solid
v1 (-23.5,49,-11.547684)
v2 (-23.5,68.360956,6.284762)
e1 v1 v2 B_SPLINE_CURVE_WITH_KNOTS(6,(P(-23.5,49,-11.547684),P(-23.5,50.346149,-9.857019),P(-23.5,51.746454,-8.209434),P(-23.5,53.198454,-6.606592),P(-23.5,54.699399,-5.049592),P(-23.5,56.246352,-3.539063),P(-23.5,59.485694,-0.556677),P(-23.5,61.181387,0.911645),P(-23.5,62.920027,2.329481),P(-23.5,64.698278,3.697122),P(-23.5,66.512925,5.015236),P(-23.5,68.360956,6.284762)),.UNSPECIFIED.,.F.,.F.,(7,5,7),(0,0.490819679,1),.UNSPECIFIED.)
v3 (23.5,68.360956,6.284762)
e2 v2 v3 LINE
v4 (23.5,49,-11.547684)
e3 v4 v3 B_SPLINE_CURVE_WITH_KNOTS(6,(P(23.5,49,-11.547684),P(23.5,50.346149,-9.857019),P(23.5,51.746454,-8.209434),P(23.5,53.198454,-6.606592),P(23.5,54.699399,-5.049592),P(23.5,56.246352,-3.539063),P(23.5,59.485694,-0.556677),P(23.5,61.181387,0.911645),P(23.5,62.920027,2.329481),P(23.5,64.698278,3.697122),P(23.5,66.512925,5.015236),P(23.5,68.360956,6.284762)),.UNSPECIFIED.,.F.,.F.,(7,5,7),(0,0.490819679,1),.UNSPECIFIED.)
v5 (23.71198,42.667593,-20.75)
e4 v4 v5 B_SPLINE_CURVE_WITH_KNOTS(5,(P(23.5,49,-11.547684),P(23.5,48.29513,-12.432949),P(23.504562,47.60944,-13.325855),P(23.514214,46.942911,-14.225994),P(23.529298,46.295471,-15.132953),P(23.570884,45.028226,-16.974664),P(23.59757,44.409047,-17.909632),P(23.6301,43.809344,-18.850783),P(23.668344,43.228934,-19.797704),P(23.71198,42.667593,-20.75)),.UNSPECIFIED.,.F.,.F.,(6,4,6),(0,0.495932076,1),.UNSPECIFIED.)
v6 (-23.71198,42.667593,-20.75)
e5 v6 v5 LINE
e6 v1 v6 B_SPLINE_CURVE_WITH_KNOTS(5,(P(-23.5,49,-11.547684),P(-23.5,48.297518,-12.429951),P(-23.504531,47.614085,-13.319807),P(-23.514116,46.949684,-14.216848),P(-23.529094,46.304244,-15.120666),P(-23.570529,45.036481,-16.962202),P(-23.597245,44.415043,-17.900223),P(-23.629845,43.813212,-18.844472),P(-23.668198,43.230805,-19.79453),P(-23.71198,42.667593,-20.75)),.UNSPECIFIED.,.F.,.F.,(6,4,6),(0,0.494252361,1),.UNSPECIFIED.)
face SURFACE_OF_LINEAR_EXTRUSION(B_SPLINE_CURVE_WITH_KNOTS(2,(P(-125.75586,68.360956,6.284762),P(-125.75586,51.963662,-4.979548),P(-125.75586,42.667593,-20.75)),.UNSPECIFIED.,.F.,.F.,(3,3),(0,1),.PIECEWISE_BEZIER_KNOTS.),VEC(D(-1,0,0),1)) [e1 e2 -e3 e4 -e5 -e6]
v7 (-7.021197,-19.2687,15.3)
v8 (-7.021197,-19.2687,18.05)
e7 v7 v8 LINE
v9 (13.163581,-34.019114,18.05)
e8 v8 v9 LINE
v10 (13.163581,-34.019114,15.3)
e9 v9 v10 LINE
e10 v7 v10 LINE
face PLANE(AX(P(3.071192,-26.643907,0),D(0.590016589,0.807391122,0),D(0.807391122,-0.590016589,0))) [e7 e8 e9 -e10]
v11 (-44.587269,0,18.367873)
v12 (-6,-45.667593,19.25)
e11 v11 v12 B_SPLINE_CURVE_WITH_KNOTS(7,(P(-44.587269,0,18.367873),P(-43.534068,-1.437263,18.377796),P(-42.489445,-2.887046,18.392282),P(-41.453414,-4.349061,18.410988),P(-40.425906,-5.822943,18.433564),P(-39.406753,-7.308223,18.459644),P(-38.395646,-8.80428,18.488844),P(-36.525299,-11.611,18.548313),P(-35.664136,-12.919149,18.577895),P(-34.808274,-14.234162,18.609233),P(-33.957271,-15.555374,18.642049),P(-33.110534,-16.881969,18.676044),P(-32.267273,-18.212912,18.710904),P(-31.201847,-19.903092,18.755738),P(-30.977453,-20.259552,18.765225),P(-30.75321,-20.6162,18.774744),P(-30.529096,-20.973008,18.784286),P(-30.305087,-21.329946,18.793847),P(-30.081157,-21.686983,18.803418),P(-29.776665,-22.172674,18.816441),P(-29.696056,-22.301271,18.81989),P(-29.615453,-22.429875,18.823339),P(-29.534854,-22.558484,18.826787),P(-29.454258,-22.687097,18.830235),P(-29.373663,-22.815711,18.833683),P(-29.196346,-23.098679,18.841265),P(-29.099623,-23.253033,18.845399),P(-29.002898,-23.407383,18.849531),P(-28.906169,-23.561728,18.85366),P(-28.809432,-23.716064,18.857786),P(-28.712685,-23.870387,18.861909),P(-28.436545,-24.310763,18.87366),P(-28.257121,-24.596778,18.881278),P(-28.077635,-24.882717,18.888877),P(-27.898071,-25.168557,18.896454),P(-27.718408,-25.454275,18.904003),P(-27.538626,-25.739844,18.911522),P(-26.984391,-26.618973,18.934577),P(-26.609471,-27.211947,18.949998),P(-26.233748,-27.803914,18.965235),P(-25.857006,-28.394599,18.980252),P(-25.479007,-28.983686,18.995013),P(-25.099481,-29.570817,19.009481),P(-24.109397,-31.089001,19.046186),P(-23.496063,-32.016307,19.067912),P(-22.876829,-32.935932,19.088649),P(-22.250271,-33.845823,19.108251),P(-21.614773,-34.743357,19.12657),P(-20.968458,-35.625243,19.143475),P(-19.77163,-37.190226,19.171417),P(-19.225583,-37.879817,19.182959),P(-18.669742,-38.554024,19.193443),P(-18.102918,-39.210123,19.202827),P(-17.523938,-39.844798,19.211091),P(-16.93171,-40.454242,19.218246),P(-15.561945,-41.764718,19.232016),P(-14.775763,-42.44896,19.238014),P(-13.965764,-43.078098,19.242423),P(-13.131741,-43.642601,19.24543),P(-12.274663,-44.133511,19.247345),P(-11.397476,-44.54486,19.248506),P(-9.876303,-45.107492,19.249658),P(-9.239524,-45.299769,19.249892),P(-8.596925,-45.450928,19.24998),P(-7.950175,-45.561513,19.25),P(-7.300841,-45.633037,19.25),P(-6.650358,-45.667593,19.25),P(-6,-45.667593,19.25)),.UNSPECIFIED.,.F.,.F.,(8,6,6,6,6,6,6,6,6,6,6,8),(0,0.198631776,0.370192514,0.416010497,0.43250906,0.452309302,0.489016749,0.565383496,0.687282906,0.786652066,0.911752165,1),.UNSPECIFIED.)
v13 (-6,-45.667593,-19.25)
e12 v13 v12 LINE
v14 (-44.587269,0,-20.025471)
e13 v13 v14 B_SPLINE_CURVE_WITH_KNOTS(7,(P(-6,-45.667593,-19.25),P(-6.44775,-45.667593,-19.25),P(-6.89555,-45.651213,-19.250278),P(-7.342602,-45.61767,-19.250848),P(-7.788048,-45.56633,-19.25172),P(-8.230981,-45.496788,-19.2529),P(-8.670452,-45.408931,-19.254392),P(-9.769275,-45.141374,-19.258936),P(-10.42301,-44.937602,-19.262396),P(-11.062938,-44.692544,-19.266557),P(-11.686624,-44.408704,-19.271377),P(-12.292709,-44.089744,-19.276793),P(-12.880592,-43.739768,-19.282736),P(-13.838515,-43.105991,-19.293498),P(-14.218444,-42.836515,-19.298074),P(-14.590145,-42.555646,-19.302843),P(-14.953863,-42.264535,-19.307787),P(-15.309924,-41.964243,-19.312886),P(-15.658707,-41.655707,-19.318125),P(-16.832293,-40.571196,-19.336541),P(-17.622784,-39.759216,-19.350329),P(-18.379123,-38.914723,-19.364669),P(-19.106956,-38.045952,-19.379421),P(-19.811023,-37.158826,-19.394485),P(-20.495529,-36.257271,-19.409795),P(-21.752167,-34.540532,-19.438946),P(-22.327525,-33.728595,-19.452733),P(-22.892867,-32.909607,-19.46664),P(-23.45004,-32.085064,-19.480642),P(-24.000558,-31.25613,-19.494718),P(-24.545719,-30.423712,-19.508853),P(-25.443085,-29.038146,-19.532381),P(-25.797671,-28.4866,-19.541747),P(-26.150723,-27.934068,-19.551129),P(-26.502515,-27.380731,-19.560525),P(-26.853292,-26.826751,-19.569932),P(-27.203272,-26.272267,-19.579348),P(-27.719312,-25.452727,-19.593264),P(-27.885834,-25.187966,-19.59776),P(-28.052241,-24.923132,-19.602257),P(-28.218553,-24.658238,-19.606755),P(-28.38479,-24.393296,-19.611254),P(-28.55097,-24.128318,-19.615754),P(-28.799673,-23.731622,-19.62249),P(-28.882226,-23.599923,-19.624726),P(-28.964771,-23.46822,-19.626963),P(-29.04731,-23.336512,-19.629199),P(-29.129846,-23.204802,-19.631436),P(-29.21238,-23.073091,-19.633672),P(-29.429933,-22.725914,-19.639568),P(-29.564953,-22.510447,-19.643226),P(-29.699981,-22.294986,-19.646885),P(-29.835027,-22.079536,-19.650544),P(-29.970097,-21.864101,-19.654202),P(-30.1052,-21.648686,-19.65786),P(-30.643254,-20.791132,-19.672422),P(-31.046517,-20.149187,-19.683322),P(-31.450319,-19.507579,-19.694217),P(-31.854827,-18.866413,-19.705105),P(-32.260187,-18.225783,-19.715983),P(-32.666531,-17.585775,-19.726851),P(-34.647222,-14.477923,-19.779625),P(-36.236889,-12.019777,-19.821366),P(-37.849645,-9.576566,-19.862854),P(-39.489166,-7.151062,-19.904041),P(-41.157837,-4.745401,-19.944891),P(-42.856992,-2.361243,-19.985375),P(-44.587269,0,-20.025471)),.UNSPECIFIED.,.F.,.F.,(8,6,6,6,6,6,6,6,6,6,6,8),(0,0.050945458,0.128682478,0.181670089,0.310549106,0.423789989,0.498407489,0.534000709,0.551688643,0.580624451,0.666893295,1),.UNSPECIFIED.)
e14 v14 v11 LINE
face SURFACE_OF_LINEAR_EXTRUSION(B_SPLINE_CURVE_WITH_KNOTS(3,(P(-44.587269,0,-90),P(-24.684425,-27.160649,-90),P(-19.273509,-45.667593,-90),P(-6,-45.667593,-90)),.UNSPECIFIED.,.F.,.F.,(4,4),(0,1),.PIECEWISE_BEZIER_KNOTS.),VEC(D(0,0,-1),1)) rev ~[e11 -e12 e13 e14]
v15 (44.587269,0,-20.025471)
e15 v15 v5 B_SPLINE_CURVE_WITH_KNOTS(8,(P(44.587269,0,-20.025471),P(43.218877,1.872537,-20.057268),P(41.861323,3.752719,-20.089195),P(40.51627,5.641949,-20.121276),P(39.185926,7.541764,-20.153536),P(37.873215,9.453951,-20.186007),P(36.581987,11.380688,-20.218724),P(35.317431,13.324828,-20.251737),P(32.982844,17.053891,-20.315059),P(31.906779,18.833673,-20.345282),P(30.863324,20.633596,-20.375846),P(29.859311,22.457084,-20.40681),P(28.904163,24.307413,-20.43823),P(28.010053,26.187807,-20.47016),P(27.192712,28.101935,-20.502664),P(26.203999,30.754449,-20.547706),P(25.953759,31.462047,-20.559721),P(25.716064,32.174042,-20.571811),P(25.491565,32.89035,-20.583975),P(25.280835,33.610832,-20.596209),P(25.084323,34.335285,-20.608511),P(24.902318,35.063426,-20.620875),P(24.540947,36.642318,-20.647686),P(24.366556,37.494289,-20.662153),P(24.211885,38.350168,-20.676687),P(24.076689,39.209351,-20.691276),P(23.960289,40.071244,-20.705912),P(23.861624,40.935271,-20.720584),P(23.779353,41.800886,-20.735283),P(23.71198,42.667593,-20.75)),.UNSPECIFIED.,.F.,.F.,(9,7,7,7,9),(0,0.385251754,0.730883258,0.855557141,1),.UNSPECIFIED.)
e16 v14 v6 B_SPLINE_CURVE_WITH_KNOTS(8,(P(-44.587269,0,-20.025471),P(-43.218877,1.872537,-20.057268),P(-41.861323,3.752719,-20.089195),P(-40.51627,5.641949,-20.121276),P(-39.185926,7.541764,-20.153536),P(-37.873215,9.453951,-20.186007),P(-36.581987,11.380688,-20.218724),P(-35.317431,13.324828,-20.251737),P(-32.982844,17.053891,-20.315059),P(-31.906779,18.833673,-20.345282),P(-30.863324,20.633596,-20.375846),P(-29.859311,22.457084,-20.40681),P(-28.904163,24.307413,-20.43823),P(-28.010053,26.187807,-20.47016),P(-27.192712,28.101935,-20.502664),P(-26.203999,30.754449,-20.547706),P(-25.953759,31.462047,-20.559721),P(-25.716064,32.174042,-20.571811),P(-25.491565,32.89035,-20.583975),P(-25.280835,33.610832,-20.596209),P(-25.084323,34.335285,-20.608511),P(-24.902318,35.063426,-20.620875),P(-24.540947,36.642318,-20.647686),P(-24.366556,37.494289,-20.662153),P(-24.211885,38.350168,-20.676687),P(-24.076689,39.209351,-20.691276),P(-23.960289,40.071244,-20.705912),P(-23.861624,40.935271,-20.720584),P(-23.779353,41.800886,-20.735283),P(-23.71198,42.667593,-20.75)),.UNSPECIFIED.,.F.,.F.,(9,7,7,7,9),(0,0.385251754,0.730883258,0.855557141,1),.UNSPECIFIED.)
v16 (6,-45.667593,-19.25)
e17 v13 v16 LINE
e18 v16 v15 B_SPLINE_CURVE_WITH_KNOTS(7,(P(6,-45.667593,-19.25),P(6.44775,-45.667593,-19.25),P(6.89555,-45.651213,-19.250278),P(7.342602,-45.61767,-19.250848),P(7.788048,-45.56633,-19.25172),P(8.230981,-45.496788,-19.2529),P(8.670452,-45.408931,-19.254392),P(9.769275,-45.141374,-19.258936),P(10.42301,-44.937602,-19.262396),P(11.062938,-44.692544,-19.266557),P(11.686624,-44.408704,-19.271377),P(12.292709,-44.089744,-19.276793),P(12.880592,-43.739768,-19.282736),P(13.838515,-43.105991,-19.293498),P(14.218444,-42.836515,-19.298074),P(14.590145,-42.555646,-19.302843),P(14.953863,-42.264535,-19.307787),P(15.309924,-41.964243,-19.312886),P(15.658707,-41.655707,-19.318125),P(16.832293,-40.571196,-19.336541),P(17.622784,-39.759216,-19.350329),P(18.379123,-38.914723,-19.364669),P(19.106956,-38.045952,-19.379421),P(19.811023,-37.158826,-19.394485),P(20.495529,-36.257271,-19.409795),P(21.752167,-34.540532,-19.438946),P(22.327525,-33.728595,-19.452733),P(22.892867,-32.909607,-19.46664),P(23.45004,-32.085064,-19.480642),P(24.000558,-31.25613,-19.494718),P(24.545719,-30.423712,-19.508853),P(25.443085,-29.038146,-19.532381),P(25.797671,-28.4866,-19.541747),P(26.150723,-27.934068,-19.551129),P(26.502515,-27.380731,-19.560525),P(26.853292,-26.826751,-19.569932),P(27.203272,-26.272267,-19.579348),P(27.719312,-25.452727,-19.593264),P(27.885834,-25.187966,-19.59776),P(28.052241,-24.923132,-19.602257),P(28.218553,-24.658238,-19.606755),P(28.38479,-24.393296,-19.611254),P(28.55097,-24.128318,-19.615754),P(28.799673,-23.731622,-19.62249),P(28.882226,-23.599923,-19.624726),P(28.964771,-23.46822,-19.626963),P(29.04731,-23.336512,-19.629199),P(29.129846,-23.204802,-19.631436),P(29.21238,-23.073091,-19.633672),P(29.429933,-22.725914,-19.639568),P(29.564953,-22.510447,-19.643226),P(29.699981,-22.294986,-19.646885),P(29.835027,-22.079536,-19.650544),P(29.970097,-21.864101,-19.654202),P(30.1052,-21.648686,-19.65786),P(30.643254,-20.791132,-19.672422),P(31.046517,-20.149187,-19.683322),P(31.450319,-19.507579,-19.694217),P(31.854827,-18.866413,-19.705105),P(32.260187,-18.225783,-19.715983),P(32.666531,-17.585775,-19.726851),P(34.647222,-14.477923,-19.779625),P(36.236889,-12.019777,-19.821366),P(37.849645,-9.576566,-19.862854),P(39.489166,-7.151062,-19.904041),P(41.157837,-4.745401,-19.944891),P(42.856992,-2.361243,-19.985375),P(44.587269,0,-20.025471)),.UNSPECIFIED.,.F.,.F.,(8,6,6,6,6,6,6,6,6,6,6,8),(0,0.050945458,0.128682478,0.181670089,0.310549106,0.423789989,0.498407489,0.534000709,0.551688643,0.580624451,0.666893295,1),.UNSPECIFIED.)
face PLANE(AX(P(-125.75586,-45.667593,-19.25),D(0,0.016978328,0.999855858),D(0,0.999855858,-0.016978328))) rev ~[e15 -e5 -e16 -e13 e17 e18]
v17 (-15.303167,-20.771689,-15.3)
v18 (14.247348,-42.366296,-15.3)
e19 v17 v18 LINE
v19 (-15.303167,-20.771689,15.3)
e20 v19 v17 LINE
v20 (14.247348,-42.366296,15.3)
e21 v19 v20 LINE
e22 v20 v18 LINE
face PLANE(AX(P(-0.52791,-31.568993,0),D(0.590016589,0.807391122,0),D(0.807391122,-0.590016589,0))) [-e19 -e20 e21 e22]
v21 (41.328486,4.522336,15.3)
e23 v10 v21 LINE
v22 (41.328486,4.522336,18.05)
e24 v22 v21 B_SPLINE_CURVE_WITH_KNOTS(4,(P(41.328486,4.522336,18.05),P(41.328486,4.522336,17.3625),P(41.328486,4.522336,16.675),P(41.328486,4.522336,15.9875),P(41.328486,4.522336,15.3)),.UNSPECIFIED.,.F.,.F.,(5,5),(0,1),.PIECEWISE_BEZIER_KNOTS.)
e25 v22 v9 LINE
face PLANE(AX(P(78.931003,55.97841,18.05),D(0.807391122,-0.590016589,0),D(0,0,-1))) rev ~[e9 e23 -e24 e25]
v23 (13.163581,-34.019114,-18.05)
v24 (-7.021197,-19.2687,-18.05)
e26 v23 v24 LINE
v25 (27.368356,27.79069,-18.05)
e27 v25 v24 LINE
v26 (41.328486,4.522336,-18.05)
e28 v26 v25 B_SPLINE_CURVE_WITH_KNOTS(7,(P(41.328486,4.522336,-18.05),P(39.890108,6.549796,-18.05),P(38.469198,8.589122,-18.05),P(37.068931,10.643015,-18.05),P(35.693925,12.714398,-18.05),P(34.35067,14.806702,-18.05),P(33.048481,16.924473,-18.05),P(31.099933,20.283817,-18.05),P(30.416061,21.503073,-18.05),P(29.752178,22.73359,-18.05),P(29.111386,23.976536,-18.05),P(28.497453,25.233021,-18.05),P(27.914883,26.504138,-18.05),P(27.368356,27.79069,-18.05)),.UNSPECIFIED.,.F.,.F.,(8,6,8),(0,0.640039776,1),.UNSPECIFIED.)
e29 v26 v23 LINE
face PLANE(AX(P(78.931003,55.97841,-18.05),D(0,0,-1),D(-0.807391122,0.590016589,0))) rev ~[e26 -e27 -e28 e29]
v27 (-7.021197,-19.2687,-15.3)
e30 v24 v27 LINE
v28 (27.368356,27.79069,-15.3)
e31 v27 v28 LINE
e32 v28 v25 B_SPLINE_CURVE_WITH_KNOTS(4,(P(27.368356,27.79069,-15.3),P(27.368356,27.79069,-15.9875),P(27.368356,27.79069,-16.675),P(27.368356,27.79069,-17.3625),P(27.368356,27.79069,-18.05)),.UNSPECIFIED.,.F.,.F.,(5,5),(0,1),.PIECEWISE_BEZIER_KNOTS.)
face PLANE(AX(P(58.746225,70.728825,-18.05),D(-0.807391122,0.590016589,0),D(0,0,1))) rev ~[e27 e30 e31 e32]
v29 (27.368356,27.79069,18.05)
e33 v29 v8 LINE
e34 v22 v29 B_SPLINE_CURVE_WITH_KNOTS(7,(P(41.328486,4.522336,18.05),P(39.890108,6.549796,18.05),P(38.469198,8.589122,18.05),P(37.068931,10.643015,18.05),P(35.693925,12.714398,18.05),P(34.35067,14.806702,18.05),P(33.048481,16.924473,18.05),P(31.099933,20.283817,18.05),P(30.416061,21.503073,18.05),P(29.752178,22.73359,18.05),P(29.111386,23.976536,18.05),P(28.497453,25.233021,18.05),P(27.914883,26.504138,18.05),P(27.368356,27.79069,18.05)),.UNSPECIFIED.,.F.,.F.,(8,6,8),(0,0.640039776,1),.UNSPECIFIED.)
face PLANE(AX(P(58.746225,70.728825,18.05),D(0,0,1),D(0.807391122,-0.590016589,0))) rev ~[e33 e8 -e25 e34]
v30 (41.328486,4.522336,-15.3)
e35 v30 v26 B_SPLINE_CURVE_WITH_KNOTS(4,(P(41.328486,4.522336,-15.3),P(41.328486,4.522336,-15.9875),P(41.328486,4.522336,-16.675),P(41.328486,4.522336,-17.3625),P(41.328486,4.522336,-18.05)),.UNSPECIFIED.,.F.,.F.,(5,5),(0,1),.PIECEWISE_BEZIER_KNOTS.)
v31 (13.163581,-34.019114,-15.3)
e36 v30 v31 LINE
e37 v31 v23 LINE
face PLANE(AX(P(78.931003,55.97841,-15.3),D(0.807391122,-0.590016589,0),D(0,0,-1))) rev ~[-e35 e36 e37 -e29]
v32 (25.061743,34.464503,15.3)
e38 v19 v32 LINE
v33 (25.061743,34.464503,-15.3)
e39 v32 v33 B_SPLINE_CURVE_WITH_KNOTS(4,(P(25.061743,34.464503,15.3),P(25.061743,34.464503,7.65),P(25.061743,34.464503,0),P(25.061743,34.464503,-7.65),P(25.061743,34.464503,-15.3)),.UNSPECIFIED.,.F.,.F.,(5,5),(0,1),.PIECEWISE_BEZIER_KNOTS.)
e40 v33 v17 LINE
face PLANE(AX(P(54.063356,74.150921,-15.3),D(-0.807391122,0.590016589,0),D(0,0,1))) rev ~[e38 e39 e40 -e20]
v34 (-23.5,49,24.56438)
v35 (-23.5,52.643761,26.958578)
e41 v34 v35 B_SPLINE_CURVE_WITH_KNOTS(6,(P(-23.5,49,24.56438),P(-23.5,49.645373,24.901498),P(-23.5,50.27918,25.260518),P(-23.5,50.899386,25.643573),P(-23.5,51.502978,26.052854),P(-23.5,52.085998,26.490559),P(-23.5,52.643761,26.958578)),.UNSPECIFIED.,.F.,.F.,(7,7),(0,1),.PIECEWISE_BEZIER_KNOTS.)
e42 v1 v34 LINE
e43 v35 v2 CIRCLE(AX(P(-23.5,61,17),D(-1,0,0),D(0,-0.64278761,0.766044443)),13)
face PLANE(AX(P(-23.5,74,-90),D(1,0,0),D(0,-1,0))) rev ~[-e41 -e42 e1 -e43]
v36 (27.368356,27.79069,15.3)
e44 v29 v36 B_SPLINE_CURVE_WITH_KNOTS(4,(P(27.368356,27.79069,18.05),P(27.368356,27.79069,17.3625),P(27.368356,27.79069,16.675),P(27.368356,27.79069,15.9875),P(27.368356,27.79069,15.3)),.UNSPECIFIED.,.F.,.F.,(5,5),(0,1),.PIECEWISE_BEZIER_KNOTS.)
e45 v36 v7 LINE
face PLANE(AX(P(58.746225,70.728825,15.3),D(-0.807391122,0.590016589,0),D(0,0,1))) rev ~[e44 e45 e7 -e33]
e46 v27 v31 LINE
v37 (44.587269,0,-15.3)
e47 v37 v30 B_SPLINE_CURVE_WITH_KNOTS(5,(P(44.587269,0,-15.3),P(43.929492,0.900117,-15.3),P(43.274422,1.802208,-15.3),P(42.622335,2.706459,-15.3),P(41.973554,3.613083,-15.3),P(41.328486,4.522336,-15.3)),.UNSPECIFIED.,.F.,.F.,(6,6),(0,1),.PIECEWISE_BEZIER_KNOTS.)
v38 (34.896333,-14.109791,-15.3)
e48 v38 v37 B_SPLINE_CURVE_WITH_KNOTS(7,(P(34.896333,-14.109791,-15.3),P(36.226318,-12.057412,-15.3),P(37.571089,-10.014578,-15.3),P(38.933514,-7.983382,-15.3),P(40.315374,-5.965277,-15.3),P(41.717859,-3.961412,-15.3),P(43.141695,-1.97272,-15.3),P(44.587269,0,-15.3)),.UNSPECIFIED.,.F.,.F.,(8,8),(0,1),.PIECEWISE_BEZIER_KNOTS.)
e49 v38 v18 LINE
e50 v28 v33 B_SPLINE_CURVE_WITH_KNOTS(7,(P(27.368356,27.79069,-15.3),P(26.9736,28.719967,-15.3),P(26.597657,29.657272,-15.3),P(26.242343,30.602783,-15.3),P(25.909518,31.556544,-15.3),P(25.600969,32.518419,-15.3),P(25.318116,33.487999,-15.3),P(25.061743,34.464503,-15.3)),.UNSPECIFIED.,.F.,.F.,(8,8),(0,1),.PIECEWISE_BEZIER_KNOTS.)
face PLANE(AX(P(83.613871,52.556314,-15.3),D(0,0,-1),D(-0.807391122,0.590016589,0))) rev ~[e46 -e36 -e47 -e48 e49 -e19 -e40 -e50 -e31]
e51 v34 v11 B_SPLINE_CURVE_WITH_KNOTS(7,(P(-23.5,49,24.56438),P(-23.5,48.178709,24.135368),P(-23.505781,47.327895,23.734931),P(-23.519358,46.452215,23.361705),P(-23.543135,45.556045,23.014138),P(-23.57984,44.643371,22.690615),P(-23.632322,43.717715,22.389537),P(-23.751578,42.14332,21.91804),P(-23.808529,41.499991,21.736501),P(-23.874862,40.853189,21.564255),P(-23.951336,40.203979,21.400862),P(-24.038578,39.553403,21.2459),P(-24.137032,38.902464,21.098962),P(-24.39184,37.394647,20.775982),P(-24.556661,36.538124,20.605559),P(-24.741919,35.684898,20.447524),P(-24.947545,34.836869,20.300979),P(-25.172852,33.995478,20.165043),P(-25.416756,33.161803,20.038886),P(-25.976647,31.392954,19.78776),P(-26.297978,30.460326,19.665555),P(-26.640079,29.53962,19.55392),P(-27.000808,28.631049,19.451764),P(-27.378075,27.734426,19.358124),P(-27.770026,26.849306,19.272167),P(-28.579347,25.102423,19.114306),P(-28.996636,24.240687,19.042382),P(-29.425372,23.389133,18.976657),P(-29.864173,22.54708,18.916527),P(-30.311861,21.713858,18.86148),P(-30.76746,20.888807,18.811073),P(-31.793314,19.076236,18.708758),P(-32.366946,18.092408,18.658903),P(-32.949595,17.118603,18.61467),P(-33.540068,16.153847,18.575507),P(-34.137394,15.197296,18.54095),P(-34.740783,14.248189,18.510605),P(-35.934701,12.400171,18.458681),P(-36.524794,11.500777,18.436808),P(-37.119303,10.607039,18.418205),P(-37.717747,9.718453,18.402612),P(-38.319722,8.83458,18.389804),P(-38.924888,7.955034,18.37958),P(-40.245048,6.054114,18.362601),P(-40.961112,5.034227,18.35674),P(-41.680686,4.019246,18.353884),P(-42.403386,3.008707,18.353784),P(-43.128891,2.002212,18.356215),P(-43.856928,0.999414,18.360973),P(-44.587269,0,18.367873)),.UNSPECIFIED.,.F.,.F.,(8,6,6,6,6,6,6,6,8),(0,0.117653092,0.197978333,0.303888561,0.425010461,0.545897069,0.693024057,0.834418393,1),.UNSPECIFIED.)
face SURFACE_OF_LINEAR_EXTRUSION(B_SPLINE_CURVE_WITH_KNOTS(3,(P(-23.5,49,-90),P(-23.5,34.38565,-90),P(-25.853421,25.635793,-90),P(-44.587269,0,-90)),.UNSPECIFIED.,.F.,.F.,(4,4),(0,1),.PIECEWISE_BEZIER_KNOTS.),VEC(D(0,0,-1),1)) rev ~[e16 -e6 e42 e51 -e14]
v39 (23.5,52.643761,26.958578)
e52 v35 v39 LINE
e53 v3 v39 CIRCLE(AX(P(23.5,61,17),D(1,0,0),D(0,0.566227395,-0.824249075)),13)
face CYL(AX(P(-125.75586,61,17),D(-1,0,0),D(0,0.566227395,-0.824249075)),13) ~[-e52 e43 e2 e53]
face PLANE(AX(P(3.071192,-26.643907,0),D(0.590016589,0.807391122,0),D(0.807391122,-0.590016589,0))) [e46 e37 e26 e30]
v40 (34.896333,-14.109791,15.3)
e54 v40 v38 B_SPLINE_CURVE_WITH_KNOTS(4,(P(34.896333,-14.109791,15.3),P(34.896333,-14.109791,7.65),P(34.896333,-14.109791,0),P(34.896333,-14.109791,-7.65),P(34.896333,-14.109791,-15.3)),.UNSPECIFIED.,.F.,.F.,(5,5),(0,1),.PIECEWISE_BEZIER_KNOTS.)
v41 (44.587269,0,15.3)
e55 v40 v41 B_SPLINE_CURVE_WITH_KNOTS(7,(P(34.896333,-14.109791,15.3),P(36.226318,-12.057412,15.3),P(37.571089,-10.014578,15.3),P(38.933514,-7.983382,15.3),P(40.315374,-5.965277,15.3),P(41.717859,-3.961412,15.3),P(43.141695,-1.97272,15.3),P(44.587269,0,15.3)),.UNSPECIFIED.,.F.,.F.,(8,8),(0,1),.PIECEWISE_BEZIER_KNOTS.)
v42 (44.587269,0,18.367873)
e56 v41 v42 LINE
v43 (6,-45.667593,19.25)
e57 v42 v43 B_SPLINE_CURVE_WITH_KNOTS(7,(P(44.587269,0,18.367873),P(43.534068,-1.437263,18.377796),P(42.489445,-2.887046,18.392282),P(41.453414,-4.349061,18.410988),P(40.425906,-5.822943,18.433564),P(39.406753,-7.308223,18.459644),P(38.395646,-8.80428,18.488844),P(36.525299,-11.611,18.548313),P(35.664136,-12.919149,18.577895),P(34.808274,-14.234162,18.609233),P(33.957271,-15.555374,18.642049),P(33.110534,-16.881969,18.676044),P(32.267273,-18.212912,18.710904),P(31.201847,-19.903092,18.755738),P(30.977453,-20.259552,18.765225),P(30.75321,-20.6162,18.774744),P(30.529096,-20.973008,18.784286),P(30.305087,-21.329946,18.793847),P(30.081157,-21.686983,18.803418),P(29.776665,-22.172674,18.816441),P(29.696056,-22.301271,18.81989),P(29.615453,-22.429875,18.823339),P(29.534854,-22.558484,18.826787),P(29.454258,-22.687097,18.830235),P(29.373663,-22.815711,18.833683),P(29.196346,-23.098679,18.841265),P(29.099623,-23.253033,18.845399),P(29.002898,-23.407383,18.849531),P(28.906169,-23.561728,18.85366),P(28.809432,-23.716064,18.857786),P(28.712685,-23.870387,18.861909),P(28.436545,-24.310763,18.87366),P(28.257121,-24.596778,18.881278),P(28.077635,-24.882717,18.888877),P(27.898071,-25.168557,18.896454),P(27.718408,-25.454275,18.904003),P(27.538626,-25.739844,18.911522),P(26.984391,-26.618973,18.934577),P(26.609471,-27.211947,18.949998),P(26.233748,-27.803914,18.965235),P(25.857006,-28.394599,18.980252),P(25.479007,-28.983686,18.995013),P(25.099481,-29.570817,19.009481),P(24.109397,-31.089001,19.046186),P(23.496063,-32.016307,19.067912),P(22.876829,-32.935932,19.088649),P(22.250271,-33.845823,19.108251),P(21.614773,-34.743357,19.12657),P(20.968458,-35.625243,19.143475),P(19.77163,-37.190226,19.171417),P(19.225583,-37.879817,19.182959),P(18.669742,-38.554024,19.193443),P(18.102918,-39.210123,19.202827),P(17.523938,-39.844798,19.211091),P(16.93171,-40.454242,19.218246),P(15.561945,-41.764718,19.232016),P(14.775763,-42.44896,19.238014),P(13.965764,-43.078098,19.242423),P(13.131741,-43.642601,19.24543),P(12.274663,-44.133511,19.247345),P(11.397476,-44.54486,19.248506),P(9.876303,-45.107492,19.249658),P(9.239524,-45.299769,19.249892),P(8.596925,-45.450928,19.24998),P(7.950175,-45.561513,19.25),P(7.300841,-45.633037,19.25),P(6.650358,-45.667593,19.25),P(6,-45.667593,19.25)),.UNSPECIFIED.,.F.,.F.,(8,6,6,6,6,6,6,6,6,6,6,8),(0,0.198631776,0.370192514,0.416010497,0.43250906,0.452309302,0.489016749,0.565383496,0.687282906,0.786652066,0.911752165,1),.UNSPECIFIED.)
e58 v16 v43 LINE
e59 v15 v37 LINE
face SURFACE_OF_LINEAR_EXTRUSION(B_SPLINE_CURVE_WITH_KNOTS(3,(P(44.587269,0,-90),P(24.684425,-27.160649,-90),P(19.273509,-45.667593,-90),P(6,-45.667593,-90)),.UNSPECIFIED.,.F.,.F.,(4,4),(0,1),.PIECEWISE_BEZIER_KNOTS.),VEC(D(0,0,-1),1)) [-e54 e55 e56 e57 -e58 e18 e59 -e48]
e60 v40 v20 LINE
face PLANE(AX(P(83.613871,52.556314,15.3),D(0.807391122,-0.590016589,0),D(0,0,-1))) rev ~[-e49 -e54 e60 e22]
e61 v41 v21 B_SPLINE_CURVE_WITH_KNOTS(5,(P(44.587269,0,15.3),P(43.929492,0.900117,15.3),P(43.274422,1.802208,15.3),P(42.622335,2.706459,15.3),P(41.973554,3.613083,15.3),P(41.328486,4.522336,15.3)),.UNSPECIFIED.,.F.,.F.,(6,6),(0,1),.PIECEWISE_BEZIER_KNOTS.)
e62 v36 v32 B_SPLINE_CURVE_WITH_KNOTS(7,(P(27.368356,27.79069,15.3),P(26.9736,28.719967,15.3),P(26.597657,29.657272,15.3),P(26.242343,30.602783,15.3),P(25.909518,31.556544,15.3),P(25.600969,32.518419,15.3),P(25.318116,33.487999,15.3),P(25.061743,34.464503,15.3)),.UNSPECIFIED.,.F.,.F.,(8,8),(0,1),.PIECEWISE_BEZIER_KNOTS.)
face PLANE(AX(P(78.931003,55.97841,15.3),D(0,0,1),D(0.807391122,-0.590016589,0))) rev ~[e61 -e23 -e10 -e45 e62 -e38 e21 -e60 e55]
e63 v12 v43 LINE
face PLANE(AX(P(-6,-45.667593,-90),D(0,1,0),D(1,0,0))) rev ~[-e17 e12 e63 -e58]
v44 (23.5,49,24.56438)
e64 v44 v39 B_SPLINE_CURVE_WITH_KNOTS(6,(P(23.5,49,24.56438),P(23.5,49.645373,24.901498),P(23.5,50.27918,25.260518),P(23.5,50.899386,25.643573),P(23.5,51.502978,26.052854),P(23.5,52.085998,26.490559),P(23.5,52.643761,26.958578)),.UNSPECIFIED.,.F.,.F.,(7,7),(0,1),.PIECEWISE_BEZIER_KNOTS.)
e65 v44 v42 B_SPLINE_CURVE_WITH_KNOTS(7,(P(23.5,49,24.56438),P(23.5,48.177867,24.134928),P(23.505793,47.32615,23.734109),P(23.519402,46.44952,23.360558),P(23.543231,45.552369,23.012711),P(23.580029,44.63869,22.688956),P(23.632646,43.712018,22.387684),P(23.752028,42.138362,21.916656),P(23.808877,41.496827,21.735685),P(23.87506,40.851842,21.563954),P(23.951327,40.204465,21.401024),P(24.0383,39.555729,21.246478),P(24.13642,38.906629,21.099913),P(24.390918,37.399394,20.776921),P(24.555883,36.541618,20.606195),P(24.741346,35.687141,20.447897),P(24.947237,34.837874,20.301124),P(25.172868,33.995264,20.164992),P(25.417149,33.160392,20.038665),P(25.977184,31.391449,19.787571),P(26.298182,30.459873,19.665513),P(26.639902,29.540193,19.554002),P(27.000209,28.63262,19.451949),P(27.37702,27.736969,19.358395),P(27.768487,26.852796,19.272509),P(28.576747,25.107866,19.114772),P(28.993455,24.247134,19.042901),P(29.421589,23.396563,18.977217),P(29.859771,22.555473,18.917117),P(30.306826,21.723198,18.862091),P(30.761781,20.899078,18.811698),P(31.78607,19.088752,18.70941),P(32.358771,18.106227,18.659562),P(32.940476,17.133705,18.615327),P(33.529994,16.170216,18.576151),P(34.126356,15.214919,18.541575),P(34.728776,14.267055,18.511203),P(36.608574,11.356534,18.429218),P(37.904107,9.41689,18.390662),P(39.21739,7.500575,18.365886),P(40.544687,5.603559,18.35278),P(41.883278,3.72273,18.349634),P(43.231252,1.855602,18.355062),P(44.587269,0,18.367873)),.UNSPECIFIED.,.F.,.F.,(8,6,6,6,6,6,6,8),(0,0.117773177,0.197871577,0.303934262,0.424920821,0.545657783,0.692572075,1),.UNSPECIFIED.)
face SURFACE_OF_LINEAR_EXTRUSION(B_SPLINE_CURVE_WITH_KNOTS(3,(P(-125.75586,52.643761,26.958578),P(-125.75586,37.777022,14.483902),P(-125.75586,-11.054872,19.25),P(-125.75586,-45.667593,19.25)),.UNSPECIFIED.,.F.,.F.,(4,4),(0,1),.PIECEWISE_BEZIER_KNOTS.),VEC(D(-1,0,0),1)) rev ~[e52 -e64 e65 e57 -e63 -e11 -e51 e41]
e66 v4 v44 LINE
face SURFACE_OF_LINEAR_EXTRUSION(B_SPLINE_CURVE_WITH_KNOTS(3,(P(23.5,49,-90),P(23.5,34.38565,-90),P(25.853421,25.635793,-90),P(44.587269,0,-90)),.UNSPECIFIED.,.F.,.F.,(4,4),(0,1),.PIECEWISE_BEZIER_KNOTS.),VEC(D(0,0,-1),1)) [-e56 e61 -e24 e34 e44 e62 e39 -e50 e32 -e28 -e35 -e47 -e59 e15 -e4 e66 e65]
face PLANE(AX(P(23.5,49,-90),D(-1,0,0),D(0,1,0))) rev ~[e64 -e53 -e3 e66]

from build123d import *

# Parameters (mm, degrees)
BOSS_EXTRUDE1_DEPTH      = 70
BOSS_EXTRUDE1_DEPTH_BACK = 90
CUT_EXTRUDE1_DEPTH       = 125.755860093
CUT_EXTRUDE1_DEPTH_BACK  = 125.755860093
SKETCH10_OUTSIDE_W       = 205.76
SKETCH10_OUTSIDE_H       = 165.428
CUT_EXTRUDE4_DEPTH       = 6.4
CUT_EXTRUDE4_DEPTH_BACK  = 105.067072527
SKETCH15_W               = 36.6
SKETCH15_H               = 30.6
CUT_EXTRUDE5_DEPTH       = 12.5


with BuildPart() as part:
    # Sketch8 → Boss-Extrude1 (new, two sides: drawn at the far end of the back side and taken through both)
    with BuildSketch(Plane.XY.offset(-BOSS_EXTRUDE1_DEPTH_BACK)):
        with BuildLine():
            Line((-6, -45.667592609), (6, -45.667592609))
            add(Edge.make_bspline(
                [(44.587269323, 0), (24.684424598, -27.160649005), (19.273508518, -45.667592609), (6, -45.667592609)],
                knots=[0, 0, 0, 0, 1, 1, 1, 1], degree=3))
            add(Edge.make_bspline(
                [(23.5, 49), (23.5, 34.38564976), (25.853420885, 25.6357926), (44.587269323, 0)],
                knots=[0, 0, 0, 0, 1, 1, 1, 1], degree=3))
            Line((23.5, 49), (23.5, 74))
            Line((23.5, 74), (-23.5, 74))
            Line((-23.5, 74), (-23.5, 49))
            add(Edge.make_bspline(
                [(-23.5, 49), (-23.5, 34.38564976), (-25.853420885, 25.6357926), (-44.587269323, 0)],
                knots=[0, 0, 0, 0, 1, 1, 1, 1], degree=3))
            add(Edge.make_bspline(
                [(-44.587269323, 0), (-24.684424598, -27.160649005), (-19.273508518, -45.667592609), (-6, -45.667592609)],
                knots=[0, 0, 0, 0, 1, 1, 1, 1], degree=3))
        make_face()
    extrude(amount=BOSS_EXTRUDE1_DEPTH + BOSS_EXTRUDE1_DEPTH_BACK)

    # Sketch10 outside → Cut-Extrude1 (cut, two sides: drawn at the far end of the back side and taken through both)
    with BuildSketch(Plane(origin=(0, 0, 0), x_dir=(0, 0, -1), z_dir=(1, 0, 0)).offset(-CUT_EXTRUDE1_DEPTH_BACK)):
        with Locations((10, 14.166)):
            Rectangle(SKETCH10_OUTSIDE_W, SKETCH10_OUTSIDE_H)
        with BuildLine():
            Line((19.25, -45.667592609), (20.75, 42.667592609))
            add(Edge.make_bspline(
                [(-6.284762028, 68.360956134), (4.979548326, 51.963661564), (20.75, 42.667592609)],
                knots=[0, 0, 0, 1, 1, 1], degree=2))
            ThreePointArc((-6.284762028, 68.360956134), (-24.867699079, 71.348879707), (-26.958577761, 52.643761074))
            add(Edge.make_bspline(
                [(-26.958577761, 52.643761074), (-14.483902489, 37.777022003), (-19.25, -11.054872301), (-19.25, -45.667592609)],
                knots=[0, 0, 0, 0, 1, 1, 1, 1], degree=3))
            Line((-19.25, -45.667592609), (19.25, -45.667592609))
        make_face(mode=Mode.SUBTRACT)
    extrude(amount=CUT_EXTRUDE1_DEPTH + CUT_EXTRUDE1_DEPTH_BACK, mode=Mode.SUBTRACT)

    # l_hip_x_top_room → Cut-Extrude4 (cut, two sides: drawn at the far end of the back side and taken through both)
    with BuildSketch(Plane(origin=(-7.847220638, -10.738301926, 0), x_dir=(-0.807391122257892, 0.5900165893423182, 0), z_dir=(-0.5900165893423182, -0.807391122257892, 0)).offset(-CUT_EXTRUDE4_DEPTH_BACK)):
        Polygon((-5.7, 15.3), (0.1, 15.3), (0.1, -15.3), (-5.7, -15.3), (-5.7, -18.05), (-30.7, -18.05), (-30.7, -15.3), (-36.5, -15.3), (-36.5, 15.3), (-30.7, 15.3), (-30.7, 18.05), (-5.7, 18.05), align=None)
    extrude(amount=CUT_EXTRUDE4_DEPTH + CUT_EXTRUDE4_DEPTH_BACK, mode=Mode.SUBTRACT)

    # Sketch15 → Cut-Extrude5 (cut)
    with BuildSketch(Plane(origin=(-7.847220638, -10.738301926, 0), x_dir=(0.807391122257892, -0.5900165893423182, 0), z_dir=(0.5900165893423182, 0.807391122257892, 0))):
        with Locations((18.2, 0)):
            Rectangle(SKETCH15_W, SKETCH15_H)
    extrude(amount=-CUT_EXTRUDE5_DEPTH, mode=Mode.SUBTRACT)


solid = part.part
